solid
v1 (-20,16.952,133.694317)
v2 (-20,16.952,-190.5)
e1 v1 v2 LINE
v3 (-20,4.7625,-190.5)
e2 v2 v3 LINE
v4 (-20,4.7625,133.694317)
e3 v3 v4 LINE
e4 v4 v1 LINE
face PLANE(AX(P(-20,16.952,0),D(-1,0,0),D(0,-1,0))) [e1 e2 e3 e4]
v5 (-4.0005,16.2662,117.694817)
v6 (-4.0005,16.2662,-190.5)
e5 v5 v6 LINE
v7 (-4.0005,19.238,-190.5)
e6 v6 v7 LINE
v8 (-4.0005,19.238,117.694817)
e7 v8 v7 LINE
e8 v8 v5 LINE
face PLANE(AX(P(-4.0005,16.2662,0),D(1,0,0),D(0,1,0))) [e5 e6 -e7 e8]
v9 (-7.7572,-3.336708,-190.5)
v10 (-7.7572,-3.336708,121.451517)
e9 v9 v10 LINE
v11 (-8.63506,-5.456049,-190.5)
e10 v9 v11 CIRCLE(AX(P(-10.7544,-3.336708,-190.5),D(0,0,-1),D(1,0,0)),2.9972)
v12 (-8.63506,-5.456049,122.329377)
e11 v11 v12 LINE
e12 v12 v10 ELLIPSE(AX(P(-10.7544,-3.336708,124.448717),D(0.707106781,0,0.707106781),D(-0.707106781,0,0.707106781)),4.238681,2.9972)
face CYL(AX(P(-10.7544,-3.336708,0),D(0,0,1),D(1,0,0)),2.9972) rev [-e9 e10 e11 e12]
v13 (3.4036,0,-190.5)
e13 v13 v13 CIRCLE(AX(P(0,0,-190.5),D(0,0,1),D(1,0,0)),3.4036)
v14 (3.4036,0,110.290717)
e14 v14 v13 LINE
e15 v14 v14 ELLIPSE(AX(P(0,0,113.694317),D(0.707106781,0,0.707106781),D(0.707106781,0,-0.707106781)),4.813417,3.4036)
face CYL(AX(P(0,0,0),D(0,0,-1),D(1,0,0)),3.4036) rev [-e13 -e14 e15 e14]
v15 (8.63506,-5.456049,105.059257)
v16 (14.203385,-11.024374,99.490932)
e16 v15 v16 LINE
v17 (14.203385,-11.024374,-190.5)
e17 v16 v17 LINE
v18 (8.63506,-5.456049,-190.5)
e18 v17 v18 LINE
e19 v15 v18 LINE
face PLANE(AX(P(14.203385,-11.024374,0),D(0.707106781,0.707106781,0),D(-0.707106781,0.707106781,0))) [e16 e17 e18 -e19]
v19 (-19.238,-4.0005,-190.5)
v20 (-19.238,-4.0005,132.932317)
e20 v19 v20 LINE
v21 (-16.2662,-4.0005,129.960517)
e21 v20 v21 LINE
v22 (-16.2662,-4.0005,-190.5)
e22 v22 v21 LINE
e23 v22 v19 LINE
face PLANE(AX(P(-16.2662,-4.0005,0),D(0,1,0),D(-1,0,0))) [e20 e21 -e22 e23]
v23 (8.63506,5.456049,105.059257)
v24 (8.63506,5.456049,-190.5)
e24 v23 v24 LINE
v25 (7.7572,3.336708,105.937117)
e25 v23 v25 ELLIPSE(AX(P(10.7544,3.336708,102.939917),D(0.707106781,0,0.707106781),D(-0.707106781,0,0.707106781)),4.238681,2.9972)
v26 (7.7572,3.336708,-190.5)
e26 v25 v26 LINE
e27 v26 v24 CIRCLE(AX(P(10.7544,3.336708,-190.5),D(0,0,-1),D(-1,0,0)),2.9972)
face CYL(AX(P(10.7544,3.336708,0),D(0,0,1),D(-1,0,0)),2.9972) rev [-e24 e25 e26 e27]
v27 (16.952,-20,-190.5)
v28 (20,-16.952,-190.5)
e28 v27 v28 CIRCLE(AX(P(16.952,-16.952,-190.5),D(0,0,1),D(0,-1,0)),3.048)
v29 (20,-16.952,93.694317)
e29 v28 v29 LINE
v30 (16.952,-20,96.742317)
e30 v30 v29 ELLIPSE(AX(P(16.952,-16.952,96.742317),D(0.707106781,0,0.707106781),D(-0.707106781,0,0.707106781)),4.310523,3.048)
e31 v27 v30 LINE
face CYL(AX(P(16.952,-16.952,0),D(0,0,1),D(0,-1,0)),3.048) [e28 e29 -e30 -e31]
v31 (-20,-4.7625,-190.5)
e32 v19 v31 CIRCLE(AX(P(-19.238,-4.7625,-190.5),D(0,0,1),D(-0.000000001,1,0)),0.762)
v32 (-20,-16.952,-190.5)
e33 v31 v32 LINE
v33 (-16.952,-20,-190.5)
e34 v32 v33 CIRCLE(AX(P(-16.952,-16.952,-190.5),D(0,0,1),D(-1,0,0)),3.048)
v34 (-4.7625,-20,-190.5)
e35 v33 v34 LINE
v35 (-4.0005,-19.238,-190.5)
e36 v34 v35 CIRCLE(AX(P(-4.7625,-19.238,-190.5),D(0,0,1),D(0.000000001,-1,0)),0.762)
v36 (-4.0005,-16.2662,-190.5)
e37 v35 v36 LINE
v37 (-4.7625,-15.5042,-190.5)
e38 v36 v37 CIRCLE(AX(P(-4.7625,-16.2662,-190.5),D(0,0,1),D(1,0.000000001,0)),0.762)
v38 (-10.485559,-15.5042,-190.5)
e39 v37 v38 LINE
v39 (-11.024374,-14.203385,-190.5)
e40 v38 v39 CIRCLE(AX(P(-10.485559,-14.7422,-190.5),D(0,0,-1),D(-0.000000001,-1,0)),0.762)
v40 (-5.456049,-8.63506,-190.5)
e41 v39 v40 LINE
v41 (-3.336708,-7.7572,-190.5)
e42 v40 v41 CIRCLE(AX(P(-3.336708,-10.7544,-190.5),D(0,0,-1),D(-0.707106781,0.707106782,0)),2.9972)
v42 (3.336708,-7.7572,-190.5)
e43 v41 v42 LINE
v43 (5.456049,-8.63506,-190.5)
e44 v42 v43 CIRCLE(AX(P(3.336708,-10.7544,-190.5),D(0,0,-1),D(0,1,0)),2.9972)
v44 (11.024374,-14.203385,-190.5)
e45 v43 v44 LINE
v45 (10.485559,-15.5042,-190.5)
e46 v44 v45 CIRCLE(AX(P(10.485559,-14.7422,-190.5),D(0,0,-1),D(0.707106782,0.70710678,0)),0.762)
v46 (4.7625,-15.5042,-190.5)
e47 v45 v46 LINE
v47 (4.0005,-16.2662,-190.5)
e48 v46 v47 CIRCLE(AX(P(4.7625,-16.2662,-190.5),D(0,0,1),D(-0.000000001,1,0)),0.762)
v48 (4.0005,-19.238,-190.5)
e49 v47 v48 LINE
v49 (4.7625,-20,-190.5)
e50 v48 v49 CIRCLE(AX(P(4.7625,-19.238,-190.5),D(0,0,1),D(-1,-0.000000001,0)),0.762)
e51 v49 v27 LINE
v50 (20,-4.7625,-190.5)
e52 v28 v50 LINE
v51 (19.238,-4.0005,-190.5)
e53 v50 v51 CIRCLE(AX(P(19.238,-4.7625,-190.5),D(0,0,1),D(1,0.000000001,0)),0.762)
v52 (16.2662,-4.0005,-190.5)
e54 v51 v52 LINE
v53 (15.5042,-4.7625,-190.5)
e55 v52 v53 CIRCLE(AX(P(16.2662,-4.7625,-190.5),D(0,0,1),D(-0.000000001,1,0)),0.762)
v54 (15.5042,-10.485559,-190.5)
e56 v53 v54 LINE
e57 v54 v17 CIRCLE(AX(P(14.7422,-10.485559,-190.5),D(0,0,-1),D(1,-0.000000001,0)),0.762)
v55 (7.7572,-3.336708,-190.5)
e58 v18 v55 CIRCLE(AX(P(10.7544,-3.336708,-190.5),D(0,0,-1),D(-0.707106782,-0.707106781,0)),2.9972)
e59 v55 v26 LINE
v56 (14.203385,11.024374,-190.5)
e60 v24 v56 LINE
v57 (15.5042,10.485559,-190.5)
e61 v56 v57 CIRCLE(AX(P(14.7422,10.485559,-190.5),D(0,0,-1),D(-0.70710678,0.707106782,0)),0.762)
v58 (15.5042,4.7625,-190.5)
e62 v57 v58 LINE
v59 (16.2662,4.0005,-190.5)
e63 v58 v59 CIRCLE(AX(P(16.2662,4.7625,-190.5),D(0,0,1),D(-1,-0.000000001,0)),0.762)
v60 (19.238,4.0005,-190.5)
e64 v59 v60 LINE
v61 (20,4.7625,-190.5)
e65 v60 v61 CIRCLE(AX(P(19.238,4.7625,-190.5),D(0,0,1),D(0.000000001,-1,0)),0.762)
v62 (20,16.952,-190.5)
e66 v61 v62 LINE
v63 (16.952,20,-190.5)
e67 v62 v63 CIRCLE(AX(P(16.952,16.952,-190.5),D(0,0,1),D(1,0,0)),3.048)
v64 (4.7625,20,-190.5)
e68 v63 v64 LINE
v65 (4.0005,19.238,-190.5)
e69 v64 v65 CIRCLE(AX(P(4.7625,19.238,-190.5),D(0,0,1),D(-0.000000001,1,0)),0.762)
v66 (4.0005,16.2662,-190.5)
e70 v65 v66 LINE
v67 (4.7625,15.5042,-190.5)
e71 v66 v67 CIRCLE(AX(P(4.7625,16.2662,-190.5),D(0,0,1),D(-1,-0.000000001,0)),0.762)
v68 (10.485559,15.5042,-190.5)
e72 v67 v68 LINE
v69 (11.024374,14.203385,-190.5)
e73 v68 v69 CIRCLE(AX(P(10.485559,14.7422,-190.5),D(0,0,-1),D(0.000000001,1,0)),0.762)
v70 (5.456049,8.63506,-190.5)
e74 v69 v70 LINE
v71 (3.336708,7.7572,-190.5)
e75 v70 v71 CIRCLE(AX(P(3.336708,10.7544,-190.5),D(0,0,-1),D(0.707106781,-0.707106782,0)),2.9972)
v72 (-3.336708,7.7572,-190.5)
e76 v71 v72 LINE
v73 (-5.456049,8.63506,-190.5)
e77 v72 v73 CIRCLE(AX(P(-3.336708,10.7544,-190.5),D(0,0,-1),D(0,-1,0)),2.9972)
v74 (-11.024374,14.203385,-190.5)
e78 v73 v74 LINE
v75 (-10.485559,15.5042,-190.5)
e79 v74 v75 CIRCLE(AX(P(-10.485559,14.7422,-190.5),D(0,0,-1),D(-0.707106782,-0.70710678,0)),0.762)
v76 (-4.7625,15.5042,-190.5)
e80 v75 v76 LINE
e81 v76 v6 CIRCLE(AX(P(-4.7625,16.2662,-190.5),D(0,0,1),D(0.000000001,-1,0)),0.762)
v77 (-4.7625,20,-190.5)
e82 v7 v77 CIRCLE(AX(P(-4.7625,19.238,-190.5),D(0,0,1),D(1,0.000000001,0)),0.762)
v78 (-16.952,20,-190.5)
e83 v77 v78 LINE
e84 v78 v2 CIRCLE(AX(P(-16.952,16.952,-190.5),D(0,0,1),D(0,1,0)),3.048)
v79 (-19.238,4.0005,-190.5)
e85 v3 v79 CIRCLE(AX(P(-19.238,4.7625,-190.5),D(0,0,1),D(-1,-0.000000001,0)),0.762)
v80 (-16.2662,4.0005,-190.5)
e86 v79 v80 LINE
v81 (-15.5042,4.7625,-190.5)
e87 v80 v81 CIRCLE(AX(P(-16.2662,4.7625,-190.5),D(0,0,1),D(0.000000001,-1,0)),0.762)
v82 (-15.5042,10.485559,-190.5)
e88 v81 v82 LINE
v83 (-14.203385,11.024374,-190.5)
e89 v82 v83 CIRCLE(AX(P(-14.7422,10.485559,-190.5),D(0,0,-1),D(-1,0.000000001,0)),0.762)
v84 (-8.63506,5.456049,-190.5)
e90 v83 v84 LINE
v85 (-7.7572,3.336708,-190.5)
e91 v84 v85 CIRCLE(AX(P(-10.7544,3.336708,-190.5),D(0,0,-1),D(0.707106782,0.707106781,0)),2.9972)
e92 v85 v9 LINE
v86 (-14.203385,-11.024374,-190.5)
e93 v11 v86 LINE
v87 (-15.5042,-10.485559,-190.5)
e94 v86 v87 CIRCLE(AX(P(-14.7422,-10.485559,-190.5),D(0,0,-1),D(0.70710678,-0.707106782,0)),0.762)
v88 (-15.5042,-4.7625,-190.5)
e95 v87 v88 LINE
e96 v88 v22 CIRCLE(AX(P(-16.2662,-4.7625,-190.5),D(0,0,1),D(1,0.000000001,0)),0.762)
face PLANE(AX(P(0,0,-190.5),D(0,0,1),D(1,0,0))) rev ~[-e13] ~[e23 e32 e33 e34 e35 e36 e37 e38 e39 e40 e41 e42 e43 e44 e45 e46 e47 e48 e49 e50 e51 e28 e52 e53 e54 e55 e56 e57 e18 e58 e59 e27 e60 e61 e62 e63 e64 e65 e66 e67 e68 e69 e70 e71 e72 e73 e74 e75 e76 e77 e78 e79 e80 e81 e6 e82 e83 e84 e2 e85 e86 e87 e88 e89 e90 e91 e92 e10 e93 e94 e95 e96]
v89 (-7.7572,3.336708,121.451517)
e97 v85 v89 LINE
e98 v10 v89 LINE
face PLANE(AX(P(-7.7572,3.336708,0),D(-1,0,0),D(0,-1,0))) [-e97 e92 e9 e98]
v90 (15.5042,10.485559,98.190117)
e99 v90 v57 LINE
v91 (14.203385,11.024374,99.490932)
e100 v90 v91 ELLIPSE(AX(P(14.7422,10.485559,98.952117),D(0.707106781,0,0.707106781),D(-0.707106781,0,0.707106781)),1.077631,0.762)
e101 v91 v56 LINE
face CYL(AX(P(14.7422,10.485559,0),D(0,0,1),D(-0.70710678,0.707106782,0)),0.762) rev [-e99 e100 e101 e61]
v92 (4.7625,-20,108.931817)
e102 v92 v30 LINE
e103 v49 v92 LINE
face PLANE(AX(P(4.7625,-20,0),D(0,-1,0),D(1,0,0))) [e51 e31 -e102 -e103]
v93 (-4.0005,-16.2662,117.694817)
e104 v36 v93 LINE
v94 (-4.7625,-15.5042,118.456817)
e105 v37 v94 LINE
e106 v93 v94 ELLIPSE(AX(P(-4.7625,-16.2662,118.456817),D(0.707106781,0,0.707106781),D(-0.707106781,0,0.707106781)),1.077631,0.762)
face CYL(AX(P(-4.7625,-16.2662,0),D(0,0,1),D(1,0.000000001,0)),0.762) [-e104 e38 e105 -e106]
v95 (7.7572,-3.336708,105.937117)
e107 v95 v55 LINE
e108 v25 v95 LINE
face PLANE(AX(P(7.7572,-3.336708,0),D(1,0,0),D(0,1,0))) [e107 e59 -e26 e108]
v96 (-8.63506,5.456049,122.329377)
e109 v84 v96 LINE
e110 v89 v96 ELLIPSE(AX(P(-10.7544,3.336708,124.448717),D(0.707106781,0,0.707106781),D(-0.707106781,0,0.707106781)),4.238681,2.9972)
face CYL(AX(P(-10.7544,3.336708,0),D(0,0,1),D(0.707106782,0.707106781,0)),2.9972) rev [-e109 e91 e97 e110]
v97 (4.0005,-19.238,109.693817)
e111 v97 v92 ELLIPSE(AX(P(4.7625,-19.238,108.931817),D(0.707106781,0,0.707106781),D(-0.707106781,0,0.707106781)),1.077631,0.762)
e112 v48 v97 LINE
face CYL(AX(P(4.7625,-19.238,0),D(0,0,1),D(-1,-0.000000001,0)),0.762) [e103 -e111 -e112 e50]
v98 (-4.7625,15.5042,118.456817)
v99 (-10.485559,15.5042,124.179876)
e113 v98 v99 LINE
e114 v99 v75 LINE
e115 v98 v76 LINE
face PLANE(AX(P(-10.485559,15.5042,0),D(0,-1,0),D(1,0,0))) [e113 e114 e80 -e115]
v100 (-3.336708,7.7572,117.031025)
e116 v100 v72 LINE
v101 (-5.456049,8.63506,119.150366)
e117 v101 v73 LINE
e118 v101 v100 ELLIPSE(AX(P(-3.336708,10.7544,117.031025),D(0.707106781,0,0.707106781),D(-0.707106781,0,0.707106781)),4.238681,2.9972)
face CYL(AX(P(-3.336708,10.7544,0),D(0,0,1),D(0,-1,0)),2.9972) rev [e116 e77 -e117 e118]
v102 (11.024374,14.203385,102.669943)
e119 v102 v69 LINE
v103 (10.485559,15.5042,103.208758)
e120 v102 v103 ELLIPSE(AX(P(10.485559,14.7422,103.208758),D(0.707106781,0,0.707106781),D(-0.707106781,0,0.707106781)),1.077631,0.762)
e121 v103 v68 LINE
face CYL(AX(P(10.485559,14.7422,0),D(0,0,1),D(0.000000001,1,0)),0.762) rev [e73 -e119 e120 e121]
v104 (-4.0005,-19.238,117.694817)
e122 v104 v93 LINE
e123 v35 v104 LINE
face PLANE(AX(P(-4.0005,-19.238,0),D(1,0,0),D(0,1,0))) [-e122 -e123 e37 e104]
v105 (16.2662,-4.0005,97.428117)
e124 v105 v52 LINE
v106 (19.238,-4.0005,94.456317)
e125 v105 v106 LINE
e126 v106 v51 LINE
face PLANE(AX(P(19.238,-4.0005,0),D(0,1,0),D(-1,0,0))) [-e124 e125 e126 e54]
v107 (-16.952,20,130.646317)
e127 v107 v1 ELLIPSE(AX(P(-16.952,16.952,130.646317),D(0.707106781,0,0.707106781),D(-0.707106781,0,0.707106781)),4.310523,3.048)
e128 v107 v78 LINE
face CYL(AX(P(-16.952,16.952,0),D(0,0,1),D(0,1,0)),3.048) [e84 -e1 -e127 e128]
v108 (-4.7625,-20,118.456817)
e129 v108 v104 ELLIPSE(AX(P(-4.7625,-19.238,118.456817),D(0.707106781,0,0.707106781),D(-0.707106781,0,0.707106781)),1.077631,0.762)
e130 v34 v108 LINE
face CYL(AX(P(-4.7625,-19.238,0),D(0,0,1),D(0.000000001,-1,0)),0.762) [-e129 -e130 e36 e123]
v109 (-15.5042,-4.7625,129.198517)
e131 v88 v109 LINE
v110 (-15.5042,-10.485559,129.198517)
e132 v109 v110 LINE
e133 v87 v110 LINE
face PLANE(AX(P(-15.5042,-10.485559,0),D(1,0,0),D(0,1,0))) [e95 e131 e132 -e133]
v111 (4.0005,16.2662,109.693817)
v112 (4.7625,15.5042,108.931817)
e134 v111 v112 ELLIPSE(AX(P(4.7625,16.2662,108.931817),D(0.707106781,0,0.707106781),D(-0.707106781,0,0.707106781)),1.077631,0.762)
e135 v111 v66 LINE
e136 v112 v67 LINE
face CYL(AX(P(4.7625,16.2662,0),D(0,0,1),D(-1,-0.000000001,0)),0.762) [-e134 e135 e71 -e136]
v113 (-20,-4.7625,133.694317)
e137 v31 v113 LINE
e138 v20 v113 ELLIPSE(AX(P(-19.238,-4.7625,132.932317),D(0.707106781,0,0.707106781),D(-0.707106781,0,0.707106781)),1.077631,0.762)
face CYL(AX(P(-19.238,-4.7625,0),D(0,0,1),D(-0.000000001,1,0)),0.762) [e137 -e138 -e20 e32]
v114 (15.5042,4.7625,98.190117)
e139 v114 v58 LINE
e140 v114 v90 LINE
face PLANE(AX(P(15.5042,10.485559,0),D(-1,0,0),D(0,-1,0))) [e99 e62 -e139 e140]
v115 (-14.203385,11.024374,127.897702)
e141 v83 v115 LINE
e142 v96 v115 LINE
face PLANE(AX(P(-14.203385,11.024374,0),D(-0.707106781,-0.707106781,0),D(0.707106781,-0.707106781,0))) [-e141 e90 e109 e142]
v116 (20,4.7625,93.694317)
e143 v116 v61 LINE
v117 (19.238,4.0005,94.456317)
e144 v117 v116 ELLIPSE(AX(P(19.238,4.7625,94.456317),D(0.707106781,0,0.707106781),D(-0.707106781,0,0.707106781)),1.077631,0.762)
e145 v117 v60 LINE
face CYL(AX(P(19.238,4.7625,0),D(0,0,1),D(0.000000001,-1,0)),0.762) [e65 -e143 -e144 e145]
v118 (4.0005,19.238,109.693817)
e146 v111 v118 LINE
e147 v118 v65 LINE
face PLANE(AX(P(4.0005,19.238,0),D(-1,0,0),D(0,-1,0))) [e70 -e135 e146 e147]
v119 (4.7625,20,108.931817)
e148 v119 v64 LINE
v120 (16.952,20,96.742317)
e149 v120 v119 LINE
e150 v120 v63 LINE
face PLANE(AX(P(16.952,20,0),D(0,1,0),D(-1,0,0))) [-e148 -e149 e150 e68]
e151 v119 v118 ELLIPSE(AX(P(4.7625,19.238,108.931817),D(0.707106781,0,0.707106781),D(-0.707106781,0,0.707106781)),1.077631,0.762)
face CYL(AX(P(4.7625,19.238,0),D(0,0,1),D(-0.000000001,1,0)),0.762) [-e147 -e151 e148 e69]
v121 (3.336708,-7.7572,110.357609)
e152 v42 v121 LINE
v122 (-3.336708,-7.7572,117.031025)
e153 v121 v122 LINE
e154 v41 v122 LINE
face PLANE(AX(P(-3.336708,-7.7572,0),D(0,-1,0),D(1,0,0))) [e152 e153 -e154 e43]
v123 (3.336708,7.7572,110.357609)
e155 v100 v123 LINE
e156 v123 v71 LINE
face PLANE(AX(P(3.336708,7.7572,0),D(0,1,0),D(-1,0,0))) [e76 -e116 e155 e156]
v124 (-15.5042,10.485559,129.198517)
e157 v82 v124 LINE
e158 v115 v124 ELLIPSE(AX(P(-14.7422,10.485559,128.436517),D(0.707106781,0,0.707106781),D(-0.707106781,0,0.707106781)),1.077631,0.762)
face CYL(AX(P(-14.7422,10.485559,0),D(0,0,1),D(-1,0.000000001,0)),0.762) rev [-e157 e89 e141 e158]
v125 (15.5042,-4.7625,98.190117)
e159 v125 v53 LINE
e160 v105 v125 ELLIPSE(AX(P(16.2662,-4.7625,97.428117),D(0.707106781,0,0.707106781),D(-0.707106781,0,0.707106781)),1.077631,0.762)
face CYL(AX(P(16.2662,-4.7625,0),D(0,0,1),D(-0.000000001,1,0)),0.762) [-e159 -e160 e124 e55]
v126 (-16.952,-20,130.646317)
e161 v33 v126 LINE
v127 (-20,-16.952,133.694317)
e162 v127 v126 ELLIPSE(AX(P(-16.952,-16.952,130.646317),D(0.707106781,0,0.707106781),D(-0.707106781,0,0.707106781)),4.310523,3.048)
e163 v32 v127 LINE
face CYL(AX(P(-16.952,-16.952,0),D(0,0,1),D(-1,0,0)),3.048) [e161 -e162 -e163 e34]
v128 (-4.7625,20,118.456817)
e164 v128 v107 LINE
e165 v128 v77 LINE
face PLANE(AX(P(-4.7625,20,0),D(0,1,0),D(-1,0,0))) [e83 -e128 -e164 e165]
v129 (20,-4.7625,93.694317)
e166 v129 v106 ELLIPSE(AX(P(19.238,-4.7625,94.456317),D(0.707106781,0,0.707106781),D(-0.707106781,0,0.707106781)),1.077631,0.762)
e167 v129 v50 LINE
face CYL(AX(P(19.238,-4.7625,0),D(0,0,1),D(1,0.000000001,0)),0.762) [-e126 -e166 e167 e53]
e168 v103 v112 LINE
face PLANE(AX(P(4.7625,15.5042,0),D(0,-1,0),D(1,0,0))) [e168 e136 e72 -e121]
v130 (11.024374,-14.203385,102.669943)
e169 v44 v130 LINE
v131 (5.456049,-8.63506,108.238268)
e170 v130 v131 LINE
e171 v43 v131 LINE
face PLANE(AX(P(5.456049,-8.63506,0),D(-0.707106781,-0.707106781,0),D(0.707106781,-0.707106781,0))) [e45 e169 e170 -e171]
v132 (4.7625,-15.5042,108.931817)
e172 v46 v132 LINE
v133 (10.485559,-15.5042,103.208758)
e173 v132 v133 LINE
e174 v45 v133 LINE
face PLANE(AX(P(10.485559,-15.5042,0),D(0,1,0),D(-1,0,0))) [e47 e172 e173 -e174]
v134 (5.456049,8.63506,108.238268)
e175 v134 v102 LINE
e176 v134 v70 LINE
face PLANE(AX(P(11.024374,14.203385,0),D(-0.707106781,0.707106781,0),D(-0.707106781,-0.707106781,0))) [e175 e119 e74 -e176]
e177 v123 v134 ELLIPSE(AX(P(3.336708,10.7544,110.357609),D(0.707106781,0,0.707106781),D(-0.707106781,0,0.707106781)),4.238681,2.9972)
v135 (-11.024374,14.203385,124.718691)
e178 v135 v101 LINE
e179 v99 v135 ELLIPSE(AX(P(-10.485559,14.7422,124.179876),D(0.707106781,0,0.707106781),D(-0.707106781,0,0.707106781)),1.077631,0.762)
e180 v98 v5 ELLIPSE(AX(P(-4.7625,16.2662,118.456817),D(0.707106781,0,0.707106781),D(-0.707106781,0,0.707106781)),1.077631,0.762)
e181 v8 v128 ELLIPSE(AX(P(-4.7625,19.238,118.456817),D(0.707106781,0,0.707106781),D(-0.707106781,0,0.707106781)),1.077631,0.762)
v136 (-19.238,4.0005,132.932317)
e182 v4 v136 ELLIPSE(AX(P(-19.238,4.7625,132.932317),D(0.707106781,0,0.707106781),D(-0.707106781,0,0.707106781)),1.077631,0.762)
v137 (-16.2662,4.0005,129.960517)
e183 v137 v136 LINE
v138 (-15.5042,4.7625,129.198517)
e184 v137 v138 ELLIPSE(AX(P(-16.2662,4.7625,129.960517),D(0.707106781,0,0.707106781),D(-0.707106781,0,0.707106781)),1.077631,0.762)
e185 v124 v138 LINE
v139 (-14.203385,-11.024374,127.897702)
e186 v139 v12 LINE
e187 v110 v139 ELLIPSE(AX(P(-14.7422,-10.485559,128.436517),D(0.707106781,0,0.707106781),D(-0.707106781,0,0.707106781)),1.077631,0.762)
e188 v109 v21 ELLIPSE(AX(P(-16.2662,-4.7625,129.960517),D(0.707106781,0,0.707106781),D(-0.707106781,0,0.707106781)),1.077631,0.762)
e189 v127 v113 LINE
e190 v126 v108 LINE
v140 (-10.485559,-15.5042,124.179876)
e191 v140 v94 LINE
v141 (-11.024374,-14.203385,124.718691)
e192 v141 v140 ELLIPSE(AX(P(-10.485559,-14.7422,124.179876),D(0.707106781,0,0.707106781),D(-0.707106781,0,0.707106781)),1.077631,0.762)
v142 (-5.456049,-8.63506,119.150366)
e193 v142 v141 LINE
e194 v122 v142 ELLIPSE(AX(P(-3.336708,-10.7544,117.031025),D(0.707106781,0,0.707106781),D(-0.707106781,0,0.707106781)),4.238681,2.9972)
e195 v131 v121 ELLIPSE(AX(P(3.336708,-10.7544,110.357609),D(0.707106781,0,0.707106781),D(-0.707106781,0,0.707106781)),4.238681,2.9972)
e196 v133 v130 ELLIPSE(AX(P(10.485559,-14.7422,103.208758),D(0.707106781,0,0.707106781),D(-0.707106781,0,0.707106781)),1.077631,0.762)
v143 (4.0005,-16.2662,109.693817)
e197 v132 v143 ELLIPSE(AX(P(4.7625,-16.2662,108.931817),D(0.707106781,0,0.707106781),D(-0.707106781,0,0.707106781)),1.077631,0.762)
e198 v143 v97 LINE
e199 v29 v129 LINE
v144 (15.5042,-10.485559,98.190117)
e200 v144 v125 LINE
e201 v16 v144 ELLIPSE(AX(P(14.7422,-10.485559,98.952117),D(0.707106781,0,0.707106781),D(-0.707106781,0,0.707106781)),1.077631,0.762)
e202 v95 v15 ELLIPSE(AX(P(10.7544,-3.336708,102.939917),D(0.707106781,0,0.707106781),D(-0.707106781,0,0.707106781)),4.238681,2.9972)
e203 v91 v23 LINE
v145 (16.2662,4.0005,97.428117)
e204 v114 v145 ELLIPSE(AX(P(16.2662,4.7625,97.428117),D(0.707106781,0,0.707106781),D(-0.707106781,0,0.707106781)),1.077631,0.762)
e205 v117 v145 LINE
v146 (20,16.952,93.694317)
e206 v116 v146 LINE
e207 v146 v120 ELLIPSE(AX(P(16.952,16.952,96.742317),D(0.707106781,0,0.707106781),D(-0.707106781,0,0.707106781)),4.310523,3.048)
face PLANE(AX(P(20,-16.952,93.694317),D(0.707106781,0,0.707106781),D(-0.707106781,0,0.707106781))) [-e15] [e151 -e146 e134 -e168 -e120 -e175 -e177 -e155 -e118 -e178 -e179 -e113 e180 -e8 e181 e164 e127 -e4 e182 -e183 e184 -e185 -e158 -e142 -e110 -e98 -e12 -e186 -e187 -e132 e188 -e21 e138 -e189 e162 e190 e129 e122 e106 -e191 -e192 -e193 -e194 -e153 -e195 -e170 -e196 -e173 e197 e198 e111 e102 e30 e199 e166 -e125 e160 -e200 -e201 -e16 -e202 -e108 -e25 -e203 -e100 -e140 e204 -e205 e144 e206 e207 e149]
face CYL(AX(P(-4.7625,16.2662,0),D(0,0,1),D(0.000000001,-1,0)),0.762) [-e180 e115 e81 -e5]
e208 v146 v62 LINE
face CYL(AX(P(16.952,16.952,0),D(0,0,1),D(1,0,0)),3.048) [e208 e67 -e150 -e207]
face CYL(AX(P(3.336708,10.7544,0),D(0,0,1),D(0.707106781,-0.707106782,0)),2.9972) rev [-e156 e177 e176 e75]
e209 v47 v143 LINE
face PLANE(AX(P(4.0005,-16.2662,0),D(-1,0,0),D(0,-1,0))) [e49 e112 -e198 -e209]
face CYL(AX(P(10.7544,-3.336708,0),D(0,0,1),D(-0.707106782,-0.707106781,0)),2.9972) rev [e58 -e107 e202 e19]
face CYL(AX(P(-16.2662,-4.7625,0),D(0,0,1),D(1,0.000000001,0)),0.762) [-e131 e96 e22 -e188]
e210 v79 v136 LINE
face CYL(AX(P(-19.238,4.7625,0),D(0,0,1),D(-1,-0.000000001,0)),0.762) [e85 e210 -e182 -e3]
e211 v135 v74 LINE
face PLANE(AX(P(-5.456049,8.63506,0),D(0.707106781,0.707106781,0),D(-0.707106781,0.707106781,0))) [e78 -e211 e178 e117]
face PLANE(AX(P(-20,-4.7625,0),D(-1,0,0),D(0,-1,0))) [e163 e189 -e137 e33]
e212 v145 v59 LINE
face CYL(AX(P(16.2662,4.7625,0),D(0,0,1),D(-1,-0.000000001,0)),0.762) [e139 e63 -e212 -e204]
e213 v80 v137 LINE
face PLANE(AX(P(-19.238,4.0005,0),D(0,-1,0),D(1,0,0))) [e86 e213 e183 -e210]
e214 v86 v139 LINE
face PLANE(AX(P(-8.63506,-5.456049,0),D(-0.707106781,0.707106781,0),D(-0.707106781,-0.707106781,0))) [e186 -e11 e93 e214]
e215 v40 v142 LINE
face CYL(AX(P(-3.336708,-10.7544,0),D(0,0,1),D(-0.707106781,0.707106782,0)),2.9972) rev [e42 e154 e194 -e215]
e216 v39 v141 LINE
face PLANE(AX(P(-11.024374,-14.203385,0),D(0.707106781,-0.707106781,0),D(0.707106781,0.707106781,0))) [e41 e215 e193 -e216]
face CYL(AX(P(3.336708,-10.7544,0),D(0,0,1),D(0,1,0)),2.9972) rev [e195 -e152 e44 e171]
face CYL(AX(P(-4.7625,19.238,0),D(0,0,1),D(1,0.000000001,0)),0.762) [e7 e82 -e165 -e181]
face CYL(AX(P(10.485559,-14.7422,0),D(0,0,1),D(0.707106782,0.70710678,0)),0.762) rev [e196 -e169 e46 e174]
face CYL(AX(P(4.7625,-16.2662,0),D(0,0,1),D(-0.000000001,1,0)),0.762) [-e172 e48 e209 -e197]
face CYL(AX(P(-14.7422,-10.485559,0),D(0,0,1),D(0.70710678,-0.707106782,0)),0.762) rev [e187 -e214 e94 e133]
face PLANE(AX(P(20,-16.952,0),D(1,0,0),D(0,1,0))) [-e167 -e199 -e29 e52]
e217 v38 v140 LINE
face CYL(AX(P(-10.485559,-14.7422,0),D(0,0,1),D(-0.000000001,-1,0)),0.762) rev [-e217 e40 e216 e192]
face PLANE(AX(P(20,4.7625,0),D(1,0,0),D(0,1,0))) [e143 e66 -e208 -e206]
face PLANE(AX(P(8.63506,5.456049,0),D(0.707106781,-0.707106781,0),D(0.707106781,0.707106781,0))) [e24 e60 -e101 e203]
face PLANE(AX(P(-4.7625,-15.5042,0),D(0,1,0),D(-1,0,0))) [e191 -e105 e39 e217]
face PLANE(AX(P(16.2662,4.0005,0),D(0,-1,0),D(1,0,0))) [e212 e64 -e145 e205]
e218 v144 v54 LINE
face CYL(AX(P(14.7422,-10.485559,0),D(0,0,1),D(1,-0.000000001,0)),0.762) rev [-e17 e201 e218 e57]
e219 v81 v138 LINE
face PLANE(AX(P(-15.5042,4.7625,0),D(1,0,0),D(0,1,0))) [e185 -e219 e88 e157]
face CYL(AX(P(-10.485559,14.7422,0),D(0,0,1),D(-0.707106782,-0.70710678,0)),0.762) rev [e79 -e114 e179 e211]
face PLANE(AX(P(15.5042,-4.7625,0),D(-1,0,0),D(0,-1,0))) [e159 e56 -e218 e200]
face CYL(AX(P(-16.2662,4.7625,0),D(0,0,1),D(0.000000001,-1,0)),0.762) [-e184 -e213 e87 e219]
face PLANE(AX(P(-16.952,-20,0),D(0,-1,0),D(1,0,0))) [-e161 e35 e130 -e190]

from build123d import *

# Parameters (mm, degrees)
SKETCH1_R          = 3.4036
EXTRUDE1_DEPTH     = 190.5
CUT_EXTRUDE1_REACH = 197.079
CUT_EXTRUDE2_DEPTH = 3.048


with BuildPart() as part:
    # Sketch1 → Extrude1 (new, symmetric)
    with BuildSketch(Plane.XY):
        with BuildLine():
            Line((-20, 16.952), (-20, 4.7625))
            ThreePointArc((-20, 4.7625), (-19.776815367, 4.223684633), (-19.238, 4.0005))
            Line((-19.238, 4.0005), (-16.2662, 4.0005))
            ThreePointArc((-16.2662, 4.0005), (-15.727384633, 4.223684633), (-15.5042, 4.7625))
            Line((-15.5042, 4.7625), (-15.5042, 10.485558599))
            ThreePointArc((-15.5042, 10.485558599), (-15.033804775, 11.189554802), (-14.203384633, 11.024373966))
            Line((-14.203384633, 11.024373966), (-8.635059555, 5.456048889))
            ThreePointArc((-8.635059555, 5.456048889), (-7.985348265, 4.483687227), (-7.7572, 3.336708444))
            Line((-7.7572, 3.336708444), (-7.7572, -3.336708444))
            ThreePointArc((-7.7572, -3.336708444), (-7.985348265, -4.483687227), (-8.635059555, -5.456048889))
            Line((-8.635059555, -5.456048889), (-14.203384633, -11.024373966))
            ThreePointArc((-14.203384633, -11.024373966), (-15.033804775, -11.189554802), (-15.5042, -10.485558599))
            Line((-15.5042, -10.485558599), (-15.5042, -4.7625))
            ThreePointArc((-15.5042, -4.7625), (-15.727384633, -4.223684633), (-16.2662, -4.0005))
            Line((-16.2662, -4.0005), (-19.238, -4.0005))
            ThreePointArc((-19.238, -4.0005), (-19.776815367, -4.223684633), (-20, -4.7625))
            Line((-20, -4.7625), (-20, -16.952))
            ThreePointArc((-20, -16.952), (-19.107261469, -19.107261469), (-16.952, -20))
            Line((-16.952, -20), (-4.7625, -20))
            ThreePointArc((-4.7625, -20), (-4.223684633, -19.776815367), (-4.0005, -19.238))
            Line((-4.0005, -19.238), (-4.0005, -16.2662))
            ThreePointArc((-4.0005, -16.2662), (-4.223684633, -15.727384633), (-4.7625, -15.5042))
            Line((-4.7625, -15.5042), (-10.485558599, -15.5042))
            ThreePointArc((-10.485558599, -15.5042), (-11.189554802, -15.033804775), (-11.024373966, -14.203384633))
            Line((-11.024373966, -14.203384633), (-5.456048889, -8.635059555))
            ThreePointArc((-5.456048889, -8.635059555), (-4.483687227, -7.985348265), (-3.336708444, -7.7572))
            Line((-3.336708444, -7.7572), (3.336708444, -7.7572))
            ThreePointArc((3.336708444, -7.7572), (4.483687227, -7.985348265), (5.456048889, -8.635059555))
            Line((5.456048889, -8.635059555), (11.024373966, -14.203384633))
            ThreePointArc((11.024373966, -14.203384633), (11.189554802, -15.033804775), (10.485558599, -15.5042))
            Line((10.485558599, -15.5042), (4.7625, -15.5042))
            ThreePointArc((4.7625, -15.5042), (4.223684633, -15.727384633), (4.0005, -16.2662))
            Line((4.0005, -16.2662), (4.0005, -19.238))
            ThreePointArc((4.0005, -19.238), (4.223684633, -19.776815367), (4.7625, -20))
            Line((4.7625, -20), (16.952, -20))
            ThreePointArc((16.952, -20), (19.107261469, -19.107261469), (20, -16.952))
            Line((20, -16.952), (20, -4.7625))
            ThreePointArc((20, -4.7625), (19.776815367, -4.223684633), (19.238, -4.0005))
            Line((19.238, -4.0005), (16.2662, -4.0005))
            ThreePointArc((16.2662, -4.0005), (15.727384633, -4.223684633), (15.5042, -4.7625))
            Line((15.5042, -4.7625), (15.5042, -10.485558599))
            ThreePointArc((15.5042, -10.485558599), (15.033804775, -11.189554802), (14.203384633, -11.024373966))
            Line((14.203384633, -11.024373966), (8.635059555, -5.456048889))
            ThreePointArc((8.635059555, -5.456048889), (7.985348265, -4.483687227), (7.7572, -3.336708444))
            Line((7.7572, -3.336708444), (7.7572, 3.336708444))
            ThreePointArc((7.7572, 3.336708444), (7.985348265, 4.483687227), (8.635059555, 5.456048889))
            Line((8.635059555, 5.456048889), (14.203384633, 11.024373966))
            ThreePointArc((14.203384633, 11.024373966), (15.033804775, 11.189554802), (15.5042, 10.485558599))
            Line((15.5042, 10.485558599), (15.5042, 4.7625))
            ThreePointArc((15.5042, 4.7625), (15.727384633, 4.223684633), (16.2662, 4.0005))
            Line((16.2662, 4.0005), (19.238, 4.0005))
            ThreePointArc((19.238, 4.0005), (19.776815367, 4.223684633), (20, 4.7625))
            Line((20, 4.7625), (20, 16.952))
            ThreePointArc((20, 16.952), (19.107261469, 19.107261469), (16.952, 20))
            Line((16.952, 20), (4.7625, 20))
            ThreePointArc((4.7625, 20), (4.223684633, 19.776815367), (4.0005, 19.238))
            Line((4.0005, 19.238), (4.0005, 16.2662))
            ThreePointArc((4.0005, 16.2662), (4.223684633, 15.727384633), (4.7625, 15.5042))
            Line((4.7625, 15.5042), (10.485558599, 15.5042))
            ThreePointArc((10.485558599, 15.5042), (11.189554802, 15.033804775), (11.024373966, 14.203384633))
            Line((11.024373966, 14.203384633), (5.456048889, 8.635059555))
            ThreePointArc((5.456048889, 8.635059555), (4.483687227, 7.985348265), (3.336708444, 7.7572))
            Line((3.336708444, 7.7572), (-3.336708444, 7.7572))
            ThreePointArc((-3.336708444, 7.7572), (-4.483687227, 7.985348265), (-5.456048889, 8.635059555))
            Line((-5.456048889, 8.635059555), (-11.024373966, 14.203384633))
            ThreePointArc((-11.024373966, 14.203384633), (-11.189554802, 15.033804775), (-10.485558599, 15.5042))
            Line((-10.485558599, 15.5042), (-4.7625, 15.5042))
            ThreePointArc((-4.7625, 15.5042), (-4.223684633, 15.727384633), (-4.0005, 16.2662))
            Line((-4.0005, 16.2662), (-4.0005, 19.238))
            ThreePointArc((-4.0005, 19.238), (-4.223684633, 19.776815367), (-4.7625, 20))
            Line((-4.7625, 20), (-16.952, 20))
            ThreePointArc((-16.952, 20), (-19.107261469, 19.107261469), (-20, 16.952))
        make_face()
        Circle(SKETCH1_R, mode=Mode.SUBTRACT)
    extrude(amount=EXTRUDE1_DEPTH, both=True)

    # Cut-Extrude1: up to this face of the body (flat: up to its plane)
    cut_extrude1_end = Plane(part.part.faces().sort_by_distance((-10.85725, 20, 0))[0])
    # Sketch6 → Cut-Extrude1 (cut, up to the picked face)
    with BuildSketch(Plane(origin=(0, -16.952, 0), x_dir=(-1, 0, 0), z_dir=(0, -1, 0)), mode=Mode.PRIVATE) as cut_extrude1_sk1:
        Polygon((-20, -93.69431704), (20, -133.69431704), (20, -190.5), (-20, -190.5), align=None)
    cut_extrude1_tool1 = split(extrude(cut_extrude1_sk1.sketch, amount=-CUT_EXTRUDE1_REACH, mode=Mode.PRIVATE), bisect_by=cut_extrude1_end, keep=Keep.BOTH, mode=Mode.PRIVATE)
    add(cut_extrude1_tool1.solids().sort_by(Axis((1.735983, -16.952, 151.229167), (0, 1, 0)))[0], mode=Mode.SUBTRACT)

    # Sketch7 → Cut-Extrude2 (cut)
    with BuildSketch(Plane(origin=(0, -16.952, 0), x_dir=(1, 0, 0), z_dir=(0, 1, 0))):
        Polygon((-20, -133.69431704), (20, -93.69431704), (20, -190.5), (-20, -190.5), align=None)
    extrude(amount=-CUT_EXTRUDE2_DEPTH, mode=Mode.SUBTRACT)


solid = part.part
